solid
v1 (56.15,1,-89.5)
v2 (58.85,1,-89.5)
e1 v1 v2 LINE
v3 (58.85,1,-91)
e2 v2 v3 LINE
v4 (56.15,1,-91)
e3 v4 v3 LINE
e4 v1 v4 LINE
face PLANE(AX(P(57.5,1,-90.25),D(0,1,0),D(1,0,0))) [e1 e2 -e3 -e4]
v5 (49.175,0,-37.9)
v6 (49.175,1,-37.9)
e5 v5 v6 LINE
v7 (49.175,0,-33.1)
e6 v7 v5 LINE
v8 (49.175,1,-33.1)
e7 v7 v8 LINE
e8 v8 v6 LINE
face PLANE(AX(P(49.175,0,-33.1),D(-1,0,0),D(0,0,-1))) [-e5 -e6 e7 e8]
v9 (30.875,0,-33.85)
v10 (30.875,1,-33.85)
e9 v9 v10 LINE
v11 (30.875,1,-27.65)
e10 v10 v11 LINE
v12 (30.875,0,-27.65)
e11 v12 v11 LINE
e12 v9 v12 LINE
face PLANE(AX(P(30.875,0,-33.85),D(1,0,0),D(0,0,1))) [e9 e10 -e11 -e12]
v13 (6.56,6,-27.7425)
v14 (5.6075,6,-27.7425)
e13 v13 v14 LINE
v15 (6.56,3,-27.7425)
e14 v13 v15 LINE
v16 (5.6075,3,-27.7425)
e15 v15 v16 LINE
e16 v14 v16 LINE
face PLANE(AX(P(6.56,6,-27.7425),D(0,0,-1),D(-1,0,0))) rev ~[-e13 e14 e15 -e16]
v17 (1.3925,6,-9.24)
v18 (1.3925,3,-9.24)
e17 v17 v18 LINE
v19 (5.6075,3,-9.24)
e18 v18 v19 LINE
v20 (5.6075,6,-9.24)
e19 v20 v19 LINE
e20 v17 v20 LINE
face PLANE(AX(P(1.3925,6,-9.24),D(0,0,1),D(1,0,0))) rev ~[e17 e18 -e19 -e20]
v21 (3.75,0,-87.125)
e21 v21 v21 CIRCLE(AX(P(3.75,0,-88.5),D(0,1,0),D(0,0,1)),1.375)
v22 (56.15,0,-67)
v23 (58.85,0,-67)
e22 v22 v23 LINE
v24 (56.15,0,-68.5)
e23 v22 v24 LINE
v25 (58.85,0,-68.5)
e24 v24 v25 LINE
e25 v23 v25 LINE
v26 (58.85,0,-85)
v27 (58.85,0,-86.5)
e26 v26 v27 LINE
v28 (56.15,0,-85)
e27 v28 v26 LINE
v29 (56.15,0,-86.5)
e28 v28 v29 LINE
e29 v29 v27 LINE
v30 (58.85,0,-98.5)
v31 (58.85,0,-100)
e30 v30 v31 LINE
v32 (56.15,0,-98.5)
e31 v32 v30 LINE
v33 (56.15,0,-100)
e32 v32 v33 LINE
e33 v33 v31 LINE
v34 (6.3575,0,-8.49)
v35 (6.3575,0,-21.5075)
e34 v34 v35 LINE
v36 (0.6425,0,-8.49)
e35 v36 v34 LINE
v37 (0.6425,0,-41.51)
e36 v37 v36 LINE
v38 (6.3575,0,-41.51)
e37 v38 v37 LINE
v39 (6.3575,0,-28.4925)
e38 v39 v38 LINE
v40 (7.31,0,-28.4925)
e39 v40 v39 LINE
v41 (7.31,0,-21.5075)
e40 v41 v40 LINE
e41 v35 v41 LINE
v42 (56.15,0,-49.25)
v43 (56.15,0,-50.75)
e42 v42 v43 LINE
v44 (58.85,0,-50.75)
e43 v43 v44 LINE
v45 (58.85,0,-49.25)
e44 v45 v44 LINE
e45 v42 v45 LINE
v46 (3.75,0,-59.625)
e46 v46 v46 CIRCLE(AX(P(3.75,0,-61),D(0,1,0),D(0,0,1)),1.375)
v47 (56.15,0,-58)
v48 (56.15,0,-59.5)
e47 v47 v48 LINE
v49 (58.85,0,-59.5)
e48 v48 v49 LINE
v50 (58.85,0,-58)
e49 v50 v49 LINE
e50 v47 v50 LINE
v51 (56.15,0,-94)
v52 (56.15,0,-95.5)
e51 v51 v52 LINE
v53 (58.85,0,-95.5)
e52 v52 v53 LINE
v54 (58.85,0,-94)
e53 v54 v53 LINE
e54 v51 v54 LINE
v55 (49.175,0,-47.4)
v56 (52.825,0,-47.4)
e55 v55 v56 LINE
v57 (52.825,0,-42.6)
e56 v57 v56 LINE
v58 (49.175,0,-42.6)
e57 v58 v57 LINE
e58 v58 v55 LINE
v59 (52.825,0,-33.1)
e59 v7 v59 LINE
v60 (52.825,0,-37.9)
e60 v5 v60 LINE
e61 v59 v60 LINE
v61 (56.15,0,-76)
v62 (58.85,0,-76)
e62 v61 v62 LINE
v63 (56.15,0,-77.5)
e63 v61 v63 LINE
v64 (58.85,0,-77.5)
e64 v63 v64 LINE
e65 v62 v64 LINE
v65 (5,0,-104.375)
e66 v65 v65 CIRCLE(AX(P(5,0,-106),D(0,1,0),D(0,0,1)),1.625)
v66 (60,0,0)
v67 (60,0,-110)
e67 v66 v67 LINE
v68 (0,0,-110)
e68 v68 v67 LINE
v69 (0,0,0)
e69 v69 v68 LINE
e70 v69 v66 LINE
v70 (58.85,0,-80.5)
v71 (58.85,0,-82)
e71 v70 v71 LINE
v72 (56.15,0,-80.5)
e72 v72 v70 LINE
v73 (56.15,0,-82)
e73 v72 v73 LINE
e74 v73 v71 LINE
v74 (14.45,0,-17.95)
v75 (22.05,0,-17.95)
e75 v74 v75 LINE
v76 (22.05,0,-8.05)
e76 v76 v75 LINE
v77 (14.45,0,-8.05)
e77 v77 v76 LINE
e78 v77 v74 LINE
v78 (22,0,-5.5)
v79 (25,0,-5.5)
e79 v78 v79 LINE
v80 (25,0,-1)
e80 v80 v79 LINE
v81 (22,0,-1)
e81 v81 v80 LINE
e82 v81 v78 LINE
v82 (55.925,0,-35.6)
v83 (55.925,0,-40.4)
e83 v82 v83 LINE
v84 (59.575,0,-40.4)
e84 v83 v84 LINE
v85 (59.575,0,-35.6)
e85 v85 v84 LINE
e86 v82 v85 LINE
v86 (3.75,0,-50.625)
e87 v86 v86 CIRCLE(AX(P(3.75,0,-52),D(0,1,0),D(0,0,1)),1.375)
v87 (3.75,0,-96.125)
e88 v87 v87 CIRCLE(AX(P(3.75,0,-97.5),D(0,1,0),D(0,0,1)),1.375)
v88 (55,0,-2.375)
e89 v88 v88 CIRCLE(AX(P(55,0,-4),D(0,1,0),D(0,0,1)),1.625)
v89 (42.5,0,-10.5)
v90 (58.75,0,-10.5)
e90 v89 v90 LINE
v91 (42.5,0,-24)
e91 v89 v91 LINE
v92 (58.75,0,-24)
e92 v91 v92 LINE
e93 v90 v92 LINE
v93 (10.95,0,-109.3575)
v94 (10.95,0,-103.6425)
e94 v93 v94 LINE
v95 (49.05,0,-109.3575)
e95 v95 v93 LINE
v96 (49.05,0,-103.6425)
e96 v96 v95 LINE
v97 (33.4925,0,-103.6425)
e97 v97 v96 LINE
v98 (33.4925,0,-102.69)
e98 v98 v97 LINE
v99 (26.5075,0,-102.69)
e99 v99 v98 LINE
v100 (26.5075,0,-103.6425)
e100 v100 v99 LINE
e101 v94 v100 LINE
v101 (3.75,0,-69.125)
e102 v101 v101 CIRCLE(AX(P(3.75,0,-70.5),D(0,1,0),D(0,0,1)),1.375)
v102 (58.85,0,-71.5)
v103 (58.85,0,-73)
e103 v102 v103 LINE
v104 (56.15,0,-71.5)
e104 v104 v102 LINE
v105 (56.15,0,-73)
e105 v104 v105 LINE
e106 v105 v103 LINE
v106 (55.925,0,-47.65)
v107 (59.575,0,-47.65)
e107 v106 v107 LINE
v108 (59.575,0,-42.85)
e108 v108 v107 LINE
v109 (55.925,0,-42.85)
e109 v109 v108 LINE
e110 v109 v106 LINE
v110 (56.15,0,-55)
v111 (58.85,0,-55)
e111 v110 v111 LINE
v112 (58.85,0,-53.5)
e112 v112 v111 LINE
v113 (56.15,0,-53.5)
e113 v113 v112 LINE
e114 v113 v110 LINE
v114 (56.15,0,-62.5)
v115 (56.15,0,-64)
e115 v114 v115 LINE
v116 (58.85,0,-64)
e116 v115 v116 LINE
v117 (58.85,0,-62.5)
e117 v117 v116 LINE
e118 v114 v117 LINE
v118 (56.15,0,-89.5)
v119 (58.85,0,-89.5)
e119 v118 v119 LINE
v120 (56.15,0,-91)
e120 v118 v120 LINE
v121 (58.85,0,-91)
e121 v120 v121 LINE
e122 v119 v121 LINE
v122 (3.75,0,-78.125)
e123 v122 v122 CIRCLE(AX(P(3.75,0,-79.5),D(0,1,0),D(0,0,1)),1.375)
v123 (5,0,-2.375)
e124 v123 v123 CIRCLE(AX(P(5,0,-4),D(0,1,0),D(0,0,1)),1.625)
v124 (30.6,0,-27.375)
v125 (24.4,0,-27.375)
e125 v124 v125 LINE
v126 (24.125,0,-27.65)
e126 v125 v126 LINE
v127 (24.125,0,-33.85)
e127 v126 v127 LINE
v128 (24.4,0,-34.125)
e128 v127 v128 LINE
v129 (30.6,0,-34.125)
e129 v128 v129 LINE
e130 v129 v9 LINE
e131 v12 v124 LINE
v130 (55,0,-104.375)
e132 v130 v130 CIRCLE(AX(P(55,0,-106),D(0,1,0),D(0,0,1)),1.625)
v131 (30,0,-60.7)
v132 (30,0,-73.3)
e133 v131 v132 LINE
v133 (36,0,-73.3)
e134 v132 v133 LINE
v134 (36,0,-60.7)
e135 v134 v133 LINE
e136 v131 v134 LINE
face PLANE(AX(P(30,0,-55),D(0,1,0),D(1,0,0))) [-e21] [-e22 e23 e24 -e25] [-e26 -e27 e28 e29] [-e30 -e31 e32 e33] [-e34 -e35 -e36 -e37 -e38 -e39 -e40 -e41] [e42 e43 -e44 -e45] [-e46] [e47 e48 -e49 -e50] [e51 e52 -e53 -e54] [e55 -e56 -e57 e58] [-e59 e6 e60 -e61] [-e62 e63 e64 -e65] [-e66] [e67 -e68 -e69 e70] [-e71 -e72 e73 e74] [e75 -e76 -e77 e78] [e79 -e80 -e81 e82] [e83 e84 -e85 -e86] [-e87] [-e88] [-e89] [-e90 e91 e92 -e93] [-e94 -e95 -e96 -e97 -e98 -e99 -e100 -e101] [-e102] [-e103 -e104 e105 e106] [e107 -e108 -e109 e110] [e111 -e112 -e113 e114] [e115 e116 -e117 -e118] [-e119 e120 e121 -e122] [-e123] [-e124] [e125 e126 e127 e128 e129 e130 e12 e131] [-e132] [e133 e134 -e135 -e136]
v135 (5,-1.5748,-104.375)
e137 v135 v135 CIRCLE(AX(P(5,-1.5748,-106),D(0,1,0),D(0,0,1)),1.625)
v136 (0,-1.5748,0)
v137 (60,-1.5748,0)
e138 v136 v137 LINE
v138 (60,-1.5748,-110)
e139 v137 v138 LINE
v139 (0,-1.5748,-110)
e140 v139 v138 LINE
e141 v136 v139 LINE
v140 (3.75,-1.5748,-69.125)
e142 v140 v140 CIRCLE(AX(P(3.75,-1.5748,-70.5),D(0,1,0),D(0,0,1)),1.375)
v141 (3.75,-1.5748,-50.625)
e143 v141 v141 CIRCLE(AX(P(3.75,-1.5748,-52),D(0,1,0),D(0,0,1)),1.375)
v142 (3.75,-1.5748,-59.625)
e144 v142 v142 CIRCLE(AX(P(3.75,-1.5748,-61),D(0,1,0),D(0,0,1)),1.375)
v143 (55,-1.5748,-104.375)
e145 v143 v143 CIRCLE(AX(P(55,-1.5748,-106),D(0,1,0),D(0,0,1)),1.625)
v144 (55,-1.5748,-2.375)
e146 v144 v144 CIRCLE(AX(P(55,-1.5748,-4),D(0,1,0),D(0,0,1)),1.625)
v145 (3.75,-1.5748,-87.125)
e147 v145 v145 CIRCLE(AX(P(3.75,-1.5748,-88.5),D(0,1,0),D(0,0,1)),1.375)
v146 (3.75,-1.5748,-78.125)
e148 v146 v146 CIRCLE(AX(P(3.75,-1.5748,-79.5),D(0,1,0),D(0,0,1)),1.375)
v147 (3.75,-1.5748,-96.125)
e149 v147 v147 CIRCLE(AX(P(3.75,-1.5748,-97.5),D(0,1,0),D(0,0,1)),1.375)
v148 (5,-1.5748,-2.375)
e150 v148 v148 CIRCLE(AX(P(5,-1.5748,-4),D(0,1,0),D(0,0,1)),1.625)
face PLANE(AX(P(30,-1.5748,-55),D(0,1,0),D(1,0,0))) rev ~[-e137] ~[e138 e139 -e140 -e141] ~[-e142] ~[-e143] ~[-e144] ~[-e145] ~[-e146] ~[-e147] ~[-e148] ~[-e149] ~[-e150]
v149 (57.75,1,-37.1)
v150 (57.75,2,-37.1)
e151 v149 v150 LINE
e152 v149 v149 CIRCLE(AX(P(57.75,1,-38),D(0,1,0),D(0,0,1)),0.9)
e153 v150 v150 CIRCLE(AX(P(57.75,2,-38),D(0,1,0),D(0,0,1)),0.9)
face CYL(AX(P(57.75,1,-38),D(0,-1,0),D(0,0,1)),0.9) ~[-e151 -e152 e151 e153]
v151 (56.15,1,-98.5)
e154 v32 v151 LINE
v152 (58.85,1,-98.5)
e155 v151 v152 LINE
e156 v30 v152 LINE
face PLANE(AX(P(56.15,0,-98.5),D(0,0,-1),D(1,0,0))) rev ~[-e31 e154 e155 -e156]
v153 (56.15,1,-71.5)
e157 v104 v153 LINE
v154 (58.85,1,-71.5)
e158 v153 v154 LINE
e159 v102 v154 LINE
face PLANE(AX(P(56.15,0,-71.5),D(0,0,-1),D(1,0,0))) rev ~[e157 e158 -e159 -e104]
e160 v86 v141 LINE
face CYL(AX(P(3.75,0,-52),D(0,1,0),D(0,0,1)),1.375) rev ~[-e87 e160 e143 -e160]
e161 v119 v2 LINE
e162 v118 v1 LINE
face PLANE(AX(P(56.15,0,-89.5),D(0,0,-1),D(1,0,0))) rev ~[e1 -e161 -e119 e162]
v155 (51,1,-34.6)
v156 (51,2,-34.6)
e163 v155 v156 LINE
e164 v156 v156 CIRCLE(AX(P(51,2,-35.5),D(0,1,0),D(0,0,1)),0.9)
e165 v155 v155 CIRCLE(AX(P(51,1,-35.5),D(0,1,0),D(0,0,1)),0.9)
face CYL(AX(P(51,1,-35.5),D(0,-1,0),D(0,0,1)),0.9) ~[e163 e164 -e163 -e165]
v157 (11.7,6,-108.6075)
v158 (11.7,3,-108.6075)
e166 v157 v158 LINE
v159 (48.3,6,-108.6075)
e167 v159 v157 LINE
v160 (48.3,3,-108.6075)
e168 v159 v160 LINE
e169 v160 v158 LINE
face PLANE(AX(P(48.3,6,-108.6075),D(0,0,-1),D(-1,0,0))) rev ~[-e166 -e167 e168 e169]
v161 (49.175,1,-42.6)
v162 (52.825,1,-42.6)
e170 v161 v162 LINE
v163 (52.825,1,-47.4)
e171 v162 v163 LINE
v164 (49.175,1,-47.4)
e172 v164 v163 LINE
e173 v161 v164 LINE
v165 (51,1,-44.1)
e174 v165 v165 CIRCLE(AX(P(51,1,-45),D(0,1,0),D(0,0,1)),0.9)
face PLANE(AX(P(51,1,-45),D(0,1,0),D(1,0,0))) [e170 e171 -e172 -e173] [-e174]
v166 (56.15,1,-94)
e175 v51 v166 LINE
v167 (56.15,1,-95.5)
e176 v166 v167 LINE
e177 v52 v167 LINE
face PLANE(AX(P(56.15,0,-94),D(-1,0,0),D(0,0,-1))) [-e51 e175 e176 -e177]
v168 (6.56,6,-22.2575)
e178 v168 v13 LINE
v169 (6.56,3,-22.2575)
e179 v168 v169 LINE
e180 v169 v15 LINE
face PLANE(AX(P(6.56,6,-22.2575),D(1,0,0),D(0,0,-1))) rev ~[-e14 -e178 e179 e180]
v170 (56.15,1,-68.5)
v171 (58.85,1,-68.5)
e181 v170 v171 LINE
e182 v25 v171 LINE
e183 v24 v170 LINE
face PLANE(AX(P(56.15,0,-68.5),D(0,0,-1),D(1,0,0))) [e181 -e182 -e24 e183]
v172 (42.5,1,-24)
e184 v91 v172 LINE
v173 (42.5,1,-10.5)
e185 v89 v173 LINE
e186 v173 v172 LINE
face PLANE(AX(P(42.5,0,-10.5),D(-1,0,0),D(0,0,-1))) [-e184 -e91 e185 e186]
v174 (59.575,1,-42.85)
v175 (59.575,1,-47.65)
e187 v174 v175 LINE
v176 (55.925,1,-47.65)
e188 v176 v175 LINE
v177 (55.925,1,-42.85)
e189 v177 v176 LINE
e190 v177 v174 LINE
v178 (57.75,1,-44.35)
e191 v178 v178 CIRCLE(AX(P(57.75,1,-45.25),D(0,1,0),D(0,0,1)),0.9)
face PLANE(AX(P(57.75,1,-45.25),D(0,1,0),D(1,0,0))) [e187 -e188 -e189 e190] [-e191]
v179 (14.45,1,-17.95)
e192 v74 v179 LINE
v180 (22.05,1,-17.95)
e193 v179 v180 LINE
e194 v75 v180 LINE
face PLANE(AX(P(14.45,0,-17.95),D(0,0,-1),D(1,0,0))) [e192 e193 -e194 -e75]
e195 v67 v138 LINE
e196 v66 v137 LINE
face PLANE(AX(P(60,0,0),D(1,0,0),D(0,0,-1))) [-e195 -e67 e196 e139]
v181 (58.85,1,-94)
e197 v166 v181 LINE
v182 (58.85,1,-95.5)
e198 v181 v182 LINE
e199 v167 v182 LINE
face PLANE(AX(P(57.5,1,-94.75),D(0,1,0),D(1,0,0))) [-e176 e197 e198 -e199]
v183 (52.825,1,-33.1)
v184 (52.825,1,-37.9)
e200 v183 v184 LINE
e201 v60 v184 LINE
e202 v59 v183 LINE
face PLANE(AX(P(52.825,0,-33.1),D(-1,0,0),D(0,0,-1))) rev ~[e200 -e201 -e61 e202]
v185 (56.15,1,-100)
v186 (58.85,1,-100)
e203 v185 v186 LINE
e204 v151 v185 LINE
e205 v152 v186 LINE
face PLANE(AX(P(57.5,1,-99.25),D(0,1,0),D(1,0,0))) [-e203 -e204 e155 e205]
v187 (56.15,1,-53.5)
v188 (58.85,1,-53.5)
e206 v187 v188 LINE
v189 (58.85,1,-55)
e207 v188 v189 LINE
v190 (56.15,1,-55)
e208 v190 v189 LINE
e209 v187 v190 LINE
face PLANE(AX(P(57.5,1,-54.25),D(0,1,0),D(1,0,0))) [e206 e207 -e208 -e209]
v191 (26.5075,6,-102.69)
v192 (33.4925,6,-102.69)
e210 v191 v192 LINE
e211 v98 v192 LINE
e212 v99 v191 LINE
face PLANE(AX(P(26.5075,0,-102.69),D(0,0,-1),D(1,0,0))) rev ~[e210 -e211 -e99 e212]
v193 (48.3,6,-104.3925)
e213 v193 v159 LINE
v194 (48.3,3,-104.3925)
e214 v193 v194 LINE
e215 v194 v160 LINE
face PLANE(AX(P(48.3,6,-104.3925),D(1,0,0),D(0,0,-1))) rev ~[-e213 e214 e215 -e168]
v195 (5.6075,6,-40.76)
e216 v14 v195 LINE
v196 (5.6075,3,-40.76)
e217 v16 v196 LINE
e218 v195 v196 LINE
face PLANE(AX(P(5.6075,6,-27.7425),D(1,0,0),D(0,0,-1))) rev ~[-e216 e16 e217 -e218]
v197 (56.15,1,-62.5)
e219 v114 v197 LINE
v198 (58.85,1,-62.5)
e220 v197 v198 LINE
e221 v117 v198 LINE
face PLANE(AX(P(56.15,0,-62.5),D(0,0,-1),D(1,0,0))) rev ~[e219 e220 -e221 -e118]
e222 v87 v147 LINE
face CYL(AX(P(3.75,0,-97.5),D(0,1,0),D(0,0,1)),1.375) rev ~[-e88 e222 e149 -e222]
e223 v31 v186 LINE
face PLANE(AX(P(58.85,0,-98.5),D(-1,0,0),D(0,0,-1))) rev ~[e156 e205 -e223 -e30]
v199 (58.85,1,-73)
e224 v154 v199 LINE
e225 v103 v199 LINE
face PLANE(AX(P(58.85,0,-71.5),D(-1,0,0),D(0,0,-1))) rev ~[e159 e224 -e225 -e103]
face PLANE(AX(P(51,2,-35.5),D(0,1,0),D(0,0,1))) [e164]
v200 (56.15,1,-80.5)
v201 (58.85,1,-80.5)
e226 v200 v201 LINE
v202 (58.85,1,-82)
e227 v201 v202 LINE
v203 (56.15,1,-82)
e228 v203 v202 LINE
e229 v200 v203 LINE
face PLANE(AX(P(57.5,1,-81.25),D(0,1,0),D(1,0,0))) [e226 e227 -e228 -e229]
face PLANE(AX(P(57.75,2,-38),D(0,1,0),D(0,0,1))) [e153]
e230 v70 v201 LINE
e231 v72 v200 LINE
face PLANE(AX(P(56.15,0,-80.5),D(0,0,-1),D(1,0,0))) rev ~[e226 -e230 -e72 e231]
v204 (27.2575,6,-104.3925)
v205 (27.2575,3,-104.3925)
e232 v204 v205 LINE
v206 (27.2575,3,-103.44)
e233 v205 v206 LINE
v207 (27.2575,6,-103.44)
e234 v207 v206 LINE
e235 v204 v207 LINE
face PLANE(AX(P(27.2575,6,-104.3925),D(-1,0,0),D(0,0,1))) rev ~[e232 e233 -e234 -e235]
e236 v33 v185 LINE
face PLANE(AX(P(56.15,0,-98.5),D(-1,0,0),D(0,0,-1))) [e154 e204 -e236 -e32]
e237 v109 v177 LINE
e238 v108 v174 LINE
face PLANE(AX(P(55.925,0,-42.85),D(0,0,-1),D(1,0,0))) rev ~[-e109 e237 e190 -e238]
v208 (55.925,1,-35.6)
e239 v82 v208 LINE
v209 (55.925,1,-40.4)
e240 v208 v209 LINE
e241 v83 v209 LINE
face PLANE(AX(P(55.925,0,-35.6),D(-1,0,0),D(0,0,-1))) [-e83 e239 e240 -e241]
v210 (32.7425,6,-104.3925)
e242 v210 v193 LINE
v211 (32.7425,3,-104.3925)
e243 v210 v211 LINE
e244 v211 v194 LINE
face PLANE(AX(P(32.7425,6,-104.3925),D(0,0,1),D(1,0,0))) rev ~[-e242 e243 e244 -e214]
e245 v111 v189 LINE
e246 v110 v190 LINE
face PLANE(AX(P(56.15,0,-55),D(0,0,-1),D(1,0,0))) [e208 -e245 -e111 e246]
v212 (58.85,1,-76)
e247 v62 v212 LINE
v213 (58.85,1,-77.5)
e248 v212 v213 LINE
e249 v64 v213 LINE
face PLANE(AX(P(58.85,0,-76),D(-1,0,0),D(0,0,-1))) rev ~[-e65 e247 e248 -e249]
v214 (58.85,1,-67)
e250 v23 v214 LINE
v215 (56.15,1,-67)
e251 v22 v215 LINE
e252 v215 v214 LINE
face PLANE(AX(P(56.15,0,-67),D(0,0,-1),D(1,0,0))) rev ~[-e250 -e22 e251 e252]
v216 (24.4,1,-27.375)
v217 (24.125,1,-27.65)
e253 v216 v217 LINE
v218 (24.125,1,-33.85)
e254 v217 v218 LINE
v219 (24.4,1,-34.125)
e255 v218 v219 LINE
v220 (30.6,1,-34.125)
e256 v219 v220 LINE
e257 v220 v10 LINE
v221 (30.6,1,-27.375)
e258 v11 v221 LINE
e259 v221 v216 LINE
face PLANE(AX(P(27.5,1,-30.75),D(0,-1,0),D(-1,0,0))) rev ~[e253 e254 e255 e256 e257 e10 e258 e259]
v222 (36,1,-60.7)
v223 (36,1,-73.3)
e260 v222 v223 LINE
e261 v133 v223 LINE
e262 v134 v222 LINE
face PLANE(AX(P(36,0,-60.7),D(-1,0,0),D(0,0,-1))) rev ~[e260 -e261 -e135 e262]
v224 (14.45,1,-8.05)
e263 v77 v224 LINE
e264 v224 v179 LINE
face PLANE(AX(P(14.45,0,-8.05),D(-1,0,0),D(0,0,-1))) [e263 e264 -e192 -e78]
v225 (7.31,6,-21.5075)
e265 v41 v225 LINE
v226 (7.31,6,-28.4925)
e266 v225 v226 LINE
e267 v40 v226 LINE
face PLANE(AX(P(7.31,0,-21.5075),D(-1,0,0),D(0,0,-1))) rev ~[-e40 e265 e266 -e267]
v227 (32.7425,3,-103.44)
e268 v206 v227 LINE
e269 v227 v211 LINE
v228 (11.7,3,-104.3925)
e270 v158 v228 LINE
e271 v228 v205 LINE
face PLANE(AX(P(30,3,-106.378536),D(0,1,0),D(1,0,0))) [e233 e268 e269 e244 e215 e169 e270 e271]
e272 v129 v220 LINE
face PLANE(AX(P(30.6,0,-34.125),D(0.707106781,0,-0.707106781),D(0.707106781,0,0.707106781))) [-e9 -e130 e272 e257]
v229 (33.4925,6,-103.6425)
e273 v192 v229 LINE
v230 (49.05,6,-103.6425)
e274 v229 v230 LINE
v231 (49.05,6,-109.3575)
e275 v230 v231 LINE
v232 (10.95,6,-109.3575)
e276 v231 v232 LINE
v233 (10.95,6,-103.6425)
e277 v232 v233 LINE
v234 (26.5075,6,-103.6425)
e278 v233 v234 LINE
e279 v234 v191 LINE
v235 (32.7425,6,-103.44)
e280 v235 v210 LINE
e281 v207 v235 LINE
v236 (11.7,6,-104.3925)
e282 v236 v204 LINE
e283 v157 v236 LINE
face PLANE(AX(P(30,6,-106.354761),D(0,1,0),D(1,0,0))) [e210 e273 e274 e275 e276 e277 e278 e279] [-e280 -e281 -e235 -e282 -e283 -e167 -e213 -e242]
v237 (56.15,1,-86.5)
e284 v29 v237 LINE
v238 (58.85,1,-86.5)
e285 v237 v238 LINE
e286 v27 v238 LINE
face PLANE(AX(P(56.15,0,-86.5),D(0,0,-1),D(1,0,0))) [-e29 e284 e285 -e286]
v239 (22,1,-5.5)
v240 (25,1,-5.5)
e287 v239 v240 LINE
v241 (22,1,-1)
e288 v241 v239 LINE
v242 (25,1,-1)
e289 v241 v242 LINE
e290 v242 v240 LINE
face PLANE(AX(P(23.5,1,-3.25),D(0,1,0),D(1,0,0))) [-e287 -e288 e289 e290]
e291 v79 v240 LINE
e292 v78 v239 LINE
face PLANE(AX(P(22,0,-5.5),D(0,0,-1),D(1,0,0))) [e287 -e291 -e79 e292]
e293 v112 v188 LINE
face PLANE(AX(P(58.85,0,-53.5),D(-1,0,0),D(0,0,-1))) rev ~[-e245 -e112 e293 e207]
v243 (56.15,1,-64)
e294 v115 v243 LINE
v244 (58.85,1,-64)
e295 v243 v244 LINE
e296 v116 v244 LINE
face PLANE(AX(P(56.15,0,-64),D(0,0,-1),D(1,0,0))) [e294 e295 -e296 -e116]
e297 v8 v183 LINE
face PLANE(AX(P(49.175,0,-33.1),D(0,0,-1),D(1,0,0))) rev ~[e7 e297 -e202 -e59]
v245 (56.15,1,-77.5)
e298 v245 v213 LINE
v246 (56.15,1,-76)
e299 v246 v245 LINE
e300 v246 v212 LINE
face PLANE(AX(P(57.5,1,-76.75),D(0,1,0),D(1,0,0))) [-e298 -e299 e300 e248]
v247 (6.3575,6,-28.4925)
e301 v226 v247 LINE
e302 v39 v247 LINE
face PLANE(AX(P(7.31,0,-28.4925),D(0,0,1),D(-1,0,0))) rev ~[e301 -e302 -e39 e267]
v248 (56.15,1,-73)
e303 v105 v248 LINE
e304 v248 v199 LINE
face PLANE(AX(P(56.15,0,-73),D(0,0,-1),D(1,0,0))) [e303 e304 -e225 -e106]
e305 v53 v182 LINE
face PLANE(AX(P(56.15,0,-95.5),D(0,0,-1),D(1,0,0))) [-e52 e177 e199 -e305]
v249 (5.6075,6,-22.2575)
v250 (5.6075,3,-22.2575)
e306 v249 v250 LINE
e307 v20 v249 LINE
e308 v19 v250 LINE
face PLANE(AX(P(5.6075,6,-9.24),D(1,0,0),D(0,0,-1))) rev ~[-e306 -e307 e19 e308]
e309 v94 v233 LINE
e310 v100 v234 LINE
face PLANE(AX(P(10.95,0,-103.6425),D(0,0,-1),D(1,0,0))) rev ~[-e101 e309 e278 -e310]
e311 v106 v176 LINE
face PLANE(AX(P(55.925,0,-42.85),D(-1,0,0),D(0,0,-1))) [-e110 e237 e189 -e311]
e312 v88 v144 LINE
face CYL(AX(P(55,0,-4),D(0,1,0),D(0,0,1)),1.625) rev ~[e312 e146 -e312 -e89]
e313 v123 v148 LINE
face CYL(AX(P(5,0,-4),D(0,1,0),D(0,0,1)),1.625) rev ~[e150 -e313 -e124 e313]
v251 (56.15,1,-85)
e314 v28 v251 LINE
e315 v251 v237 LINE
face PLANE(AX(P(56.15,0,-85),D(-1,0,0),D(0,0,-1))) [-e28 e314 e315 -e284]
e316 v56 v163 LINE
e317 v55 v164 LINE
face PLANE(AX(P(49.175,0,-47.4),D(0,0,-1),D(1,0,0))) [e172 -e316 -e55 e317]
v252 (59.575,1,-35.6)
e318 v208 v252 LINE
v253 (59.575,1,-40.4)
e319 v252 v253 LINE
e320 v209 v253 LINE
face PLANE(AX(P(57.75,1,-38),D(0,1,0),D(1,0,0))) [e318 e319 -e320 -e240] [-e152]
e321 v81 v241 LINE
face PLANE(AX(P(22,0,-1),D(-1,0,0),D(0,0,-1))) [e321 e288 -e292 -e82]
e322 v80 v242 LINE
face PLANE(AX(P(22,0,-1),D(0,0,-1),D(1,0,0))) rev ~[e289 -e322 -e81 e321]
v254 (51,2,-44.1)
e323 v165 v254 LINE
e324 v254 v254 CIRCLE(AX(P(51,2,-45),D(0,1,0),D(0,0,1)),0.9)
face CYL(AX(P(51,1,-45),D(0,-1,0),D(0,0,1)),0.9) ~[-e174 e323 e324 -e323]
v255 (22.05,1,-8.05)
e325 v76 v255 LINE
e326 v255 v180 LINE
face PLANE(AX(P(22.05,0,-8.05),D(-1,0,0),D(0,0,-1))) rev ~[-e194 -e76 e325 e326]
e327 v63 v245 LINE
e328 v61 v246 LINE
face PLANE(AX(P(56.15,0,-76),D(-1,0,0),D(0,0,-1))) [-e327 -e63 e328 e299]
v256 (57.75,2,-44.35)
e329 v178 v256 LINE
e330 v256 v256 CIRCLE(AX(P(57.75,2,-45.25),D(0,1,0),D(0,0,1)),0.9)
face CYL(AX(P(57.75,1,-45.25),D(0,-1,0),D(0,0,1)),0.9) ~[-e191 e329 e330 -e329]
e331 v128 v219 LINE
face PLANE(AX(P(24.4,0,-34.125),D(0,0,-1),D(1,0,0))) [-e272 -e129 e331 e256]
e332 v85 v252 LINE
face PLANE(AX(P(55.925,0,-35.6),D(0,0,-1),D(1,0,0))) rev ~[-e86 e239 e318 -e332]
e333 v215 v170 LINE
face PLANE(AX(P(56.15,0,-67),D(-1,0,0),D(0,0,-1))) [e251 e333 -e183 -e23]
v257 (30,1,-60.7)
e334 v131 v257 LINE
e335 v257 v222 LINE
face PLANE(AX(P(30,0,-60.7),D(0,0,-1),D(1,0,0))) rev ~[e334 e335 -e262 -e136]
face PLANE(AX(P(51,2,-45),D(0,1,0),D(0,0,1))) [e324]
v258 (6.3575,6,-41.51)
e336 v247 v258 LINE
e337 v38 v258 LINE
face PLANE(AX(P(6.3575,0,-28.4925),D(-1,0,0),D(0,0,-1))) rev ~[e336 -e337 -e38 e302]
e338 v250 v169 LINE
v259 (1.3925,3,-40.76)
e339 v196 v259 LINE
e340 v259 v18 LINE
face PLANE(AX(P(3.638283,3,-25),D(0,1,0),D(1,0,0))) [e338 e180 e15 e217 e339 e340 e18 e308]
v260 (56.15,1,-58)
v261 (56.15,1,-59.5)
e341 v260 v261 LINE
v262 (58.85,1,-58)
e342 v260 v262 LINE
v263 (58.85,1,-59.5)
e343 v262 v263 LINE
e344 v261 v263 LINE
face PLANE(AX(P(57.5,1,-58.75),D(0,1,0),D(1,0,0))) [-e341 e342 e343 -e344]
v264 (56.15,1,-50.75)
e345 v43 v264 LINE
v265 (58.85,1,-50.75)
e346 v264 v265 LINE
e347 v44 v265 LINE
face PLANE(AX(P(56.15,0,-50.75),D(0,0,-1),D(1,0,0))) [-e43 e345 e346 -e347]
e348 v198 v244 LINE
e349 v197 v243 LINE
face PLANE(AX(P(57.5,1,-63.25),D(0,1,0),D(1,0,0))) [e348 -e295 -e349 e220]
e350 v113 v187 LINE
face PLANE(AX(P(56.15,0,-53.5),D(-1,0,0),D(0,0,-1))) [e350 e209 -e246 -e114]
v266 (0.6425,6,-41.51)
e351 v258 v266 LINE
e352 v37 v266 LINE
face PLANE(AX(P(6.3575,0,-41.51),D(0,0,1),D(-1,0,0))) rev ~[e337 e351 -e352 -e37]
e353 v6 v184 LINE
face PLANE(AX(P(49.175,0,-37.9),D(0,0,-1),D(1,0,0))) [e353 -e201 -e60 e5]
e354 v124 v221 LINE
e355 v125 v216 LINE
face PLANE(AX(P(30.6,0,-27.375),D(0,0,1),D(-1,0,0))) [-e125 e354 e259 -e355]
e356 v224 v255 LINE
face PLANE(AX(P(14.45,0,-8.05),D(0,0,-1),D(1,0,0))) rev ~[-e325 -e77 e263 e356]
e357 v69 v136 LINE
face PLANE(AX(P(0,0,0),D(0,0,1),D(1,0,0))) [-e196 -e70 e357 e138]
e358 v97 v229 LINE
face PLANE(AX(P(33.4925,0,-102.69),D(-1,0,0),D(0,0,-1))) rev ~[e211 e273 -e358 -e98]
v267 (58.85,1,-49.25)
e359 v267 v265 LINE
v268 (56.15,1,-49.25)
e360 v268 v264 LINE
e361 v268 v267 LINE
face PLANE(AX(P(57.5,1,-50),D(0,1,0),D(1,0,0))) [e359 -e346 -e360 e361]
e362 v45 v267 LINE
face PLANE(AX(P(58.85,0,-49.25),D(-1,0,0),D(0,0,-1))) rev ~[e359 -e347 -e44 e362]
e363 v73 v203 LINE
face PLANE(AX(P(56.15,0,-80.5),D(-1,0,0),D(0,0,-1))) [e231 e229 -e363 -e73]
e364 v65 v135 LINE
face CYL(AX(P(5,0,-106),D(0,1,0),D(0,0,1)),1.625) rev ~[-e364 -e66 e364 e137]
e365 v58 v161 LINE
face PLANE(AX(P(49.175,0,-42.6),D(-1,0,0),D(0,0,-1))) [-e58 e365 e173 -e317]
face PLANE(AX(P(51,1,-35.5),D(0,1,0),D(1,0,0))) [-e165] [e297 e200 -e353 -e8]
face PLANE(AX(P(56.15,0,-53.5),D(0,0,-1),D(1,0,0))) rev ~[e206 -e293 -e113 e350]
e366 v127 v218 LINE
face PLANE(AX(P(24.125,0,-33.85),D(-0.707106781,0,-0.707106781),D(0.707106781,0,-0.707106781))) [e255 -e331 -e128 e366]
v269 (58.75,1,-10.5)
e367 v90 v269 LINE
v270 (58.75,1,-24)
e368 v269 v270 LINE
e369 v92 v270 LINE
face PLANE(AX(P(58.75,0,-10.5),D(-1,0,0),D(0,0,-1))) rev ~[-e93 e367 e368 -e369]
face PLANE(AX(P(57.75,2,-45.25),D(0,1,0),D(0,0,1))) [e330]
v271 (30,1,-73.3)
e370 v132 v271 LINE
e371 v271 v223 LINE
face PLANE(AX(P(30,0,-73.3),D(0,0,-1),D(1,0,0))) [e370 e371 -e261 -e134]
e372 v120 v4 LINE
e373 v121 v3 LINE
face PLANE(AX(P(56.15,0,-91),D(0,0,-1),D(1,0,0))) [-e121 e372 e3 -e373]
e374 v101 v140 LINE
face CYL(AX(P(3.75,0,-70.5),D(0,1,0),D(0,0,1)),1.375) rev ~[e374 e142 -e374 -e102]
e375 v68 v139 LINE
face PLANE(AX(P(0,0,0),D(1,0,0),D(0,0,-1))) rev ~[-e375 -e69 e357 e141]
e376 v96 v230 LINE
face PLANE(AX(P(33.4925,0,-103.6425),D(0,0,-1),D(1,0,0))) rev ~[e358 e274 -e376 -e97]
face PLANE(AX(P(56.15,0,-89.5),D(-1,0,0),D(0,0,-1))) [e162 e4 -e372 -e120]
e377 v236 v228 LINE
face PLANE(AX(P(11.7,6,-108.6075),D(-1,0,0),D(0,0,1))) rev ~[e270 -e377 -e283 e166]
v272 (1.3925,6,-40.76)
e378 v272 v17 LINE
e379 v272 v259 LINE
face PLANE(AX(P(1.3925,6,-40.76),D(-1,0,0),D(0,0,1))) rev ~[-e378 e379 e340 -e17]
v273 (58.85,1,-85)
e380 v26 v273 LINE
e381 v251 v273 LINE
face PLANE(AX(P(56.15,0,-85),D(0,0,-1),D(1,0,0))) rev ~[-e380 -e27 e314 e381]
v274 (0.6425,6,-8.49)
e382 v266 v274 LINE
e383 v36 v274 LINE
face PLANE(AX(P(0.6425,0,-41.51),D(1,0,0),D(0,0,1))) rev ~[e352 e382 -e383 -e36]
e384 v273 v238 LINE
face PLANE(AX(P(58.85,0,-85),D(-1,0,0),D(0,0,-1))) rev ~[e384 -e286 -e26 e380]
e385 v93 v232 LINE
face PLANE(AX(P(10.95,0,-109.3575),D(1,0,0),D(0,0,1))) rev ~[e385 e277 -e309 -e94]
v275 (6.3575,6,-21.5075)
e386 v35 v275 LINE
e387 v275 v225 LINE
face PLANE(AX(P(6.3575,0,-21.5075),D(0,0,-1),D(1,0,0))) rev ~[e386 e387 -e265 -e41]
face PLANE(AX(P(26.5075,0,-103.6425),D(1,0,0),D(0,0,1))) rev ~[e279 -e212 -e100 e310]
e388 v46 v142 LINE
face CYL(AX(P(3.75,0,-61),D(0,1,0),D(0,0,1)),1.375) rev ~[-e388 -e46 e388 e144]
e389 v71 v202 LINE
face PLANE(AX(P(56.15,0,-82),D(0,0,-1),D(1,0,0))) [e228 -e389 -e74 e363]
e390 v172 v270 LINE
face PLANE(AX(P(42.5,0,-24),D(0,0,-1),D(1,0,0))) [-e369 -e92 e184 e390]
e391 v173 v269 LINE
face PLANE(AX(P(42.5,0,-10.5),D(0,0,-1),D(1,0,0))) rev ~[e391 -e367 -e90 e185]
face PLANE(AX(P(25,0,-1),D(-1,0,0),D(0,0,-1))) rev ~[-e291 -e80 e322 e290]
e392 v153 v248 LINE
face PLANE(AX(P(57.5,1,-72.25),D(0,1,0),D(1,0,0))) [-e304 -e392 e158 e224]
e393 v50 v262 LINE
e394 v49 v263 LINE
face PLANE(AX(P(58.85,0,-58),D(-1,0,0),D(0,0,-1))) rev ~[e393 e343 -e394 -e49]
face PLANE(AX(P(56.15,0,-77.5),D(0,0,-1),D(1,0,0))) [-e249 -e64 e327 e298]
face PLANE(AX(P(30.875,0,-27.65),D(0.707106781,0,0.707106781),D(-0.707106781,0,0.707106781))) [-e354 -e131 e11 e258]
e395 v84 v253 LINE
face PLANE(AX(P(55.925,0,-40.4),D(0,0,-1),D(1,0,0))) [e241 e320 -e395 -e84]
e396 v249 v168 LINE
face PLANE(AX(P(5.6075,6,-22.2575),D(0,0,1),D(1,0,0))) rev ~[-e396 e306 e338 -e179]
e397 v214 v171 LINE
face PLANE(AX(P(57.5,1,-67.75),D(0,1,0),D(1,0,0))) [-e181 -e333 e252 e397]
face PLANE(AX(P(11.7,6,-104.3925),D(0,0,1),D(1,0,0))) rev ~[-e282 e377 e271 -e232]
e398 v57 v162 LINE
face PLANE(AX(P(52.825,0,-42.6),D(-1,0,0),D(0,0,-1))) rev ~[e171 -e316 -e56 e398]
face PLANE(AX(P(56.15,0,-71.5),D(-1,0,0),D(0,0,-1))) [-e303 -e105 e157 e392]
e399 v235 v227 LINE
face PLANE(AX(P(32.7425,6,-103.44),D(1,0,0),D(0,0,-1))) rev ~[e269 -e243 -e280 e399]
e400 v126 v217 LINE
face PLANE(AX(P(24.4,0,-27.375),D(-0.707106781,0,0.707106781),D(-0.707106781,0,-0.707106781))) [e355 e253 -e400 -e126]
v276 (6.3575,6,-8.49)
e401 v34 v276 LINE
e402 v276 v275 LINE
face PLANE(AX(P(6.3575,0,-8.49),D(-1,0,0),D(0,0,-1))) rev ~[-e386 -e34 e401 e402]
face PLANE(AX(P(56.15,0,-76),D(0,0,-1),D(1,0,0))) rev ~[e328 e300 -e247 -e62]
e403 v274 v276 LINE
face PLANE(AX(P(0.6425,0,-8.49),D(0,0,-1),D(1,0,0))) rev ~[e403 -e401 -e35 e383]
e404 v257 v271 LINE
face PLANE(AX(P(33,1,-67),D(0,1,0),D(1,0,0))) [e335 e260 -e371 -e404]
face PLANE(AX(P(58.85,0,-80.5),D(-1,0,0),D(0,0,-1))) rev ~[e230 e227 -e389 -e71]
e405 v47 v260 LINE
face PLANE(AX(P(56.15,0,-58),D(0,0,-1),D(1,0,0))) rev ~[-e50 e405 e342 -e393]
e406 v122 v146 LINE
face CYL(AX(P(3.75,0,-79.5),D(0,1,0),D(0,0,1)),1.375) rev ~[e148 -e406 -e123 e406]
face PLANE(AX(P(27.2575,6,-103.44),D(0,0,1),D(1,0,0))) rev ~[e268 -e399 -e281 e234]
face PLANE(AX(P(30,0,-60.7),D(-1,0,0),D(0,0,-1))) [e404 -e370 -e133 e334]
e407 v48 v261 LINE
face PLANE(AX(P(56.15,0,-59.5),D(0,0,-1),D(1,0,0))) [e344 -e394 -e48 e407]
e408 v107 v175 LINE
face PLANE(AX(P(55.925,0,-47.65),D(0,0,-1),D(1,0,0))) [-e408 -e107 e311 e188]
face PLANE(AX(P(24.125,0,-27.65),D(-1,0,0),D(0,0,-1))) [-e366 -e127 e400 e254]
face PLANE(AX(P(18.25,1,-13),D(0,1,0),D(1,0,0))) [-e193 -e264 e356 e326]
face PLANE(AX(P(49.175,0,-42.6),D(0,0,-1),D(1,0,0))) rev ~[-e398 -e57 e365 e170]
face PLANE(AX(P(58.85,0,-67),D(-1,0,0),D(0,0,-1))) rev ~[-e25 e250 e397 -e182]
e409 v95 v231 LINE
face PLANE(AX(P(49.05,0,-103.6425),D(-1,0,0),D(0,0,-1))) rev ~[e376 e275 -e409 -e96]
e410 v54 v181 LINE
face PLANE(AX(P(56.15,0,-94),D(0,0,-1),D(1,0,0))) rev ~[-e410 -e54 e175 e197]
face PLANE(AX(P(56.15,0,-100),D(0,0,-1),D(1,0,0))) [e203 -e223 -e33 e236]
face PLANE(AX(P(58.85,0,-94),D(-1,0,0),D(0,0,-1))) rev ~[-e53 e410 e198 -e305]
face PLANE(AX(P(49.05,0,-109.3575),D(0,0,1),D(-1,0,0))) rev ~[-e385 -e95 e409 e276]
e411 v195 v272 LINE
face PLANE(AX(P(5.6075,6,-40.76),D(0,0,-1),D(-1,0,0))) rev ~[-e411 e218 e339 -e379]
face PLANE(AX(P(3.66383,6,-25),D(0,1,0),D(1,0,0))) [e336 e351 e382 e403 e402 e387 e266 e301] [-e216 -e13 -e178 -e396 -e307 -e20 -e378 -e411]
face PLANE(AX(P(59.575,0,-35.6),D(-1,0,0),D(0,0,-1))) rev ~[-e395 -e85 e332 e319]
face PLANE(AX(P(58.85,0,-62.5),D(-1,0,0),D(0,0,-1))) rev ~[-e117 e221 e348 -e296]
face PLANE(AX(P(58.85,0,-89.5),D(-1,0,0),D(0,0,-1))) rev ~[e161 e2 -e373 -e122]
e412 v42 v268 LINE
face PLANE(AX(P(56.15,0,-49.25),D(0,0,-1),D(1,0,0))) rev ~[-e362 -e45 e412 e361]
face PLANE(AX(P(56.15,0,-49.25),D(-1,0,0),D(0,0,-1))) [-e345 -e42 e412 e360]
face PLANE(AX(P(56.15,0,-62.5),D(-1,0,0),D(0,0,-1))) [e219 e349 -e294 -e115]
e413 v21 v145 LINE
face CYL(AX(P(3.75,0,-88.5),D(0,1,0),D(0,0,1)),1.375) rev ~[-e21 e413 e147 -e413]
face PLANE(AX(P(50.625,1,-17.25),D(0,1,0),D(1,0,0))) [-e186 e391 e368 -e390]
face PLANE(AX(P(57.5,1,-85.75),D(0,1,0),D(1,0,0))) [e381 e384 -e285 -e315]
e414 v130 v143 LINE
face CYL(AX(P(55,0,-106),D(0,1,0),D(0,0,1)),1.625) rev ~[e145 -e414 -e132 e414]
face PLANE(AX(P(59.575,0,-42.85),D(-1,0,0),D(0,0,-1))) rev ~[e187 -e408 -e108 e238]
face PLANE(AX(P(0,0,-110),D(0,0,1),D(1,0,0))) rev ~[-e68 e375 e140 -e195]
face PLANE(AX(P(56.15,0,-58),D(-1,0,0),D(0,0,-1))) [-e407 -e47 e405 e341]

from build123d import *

# Parameters (mm, degrees)
SKETCH2_W           = 60
SKETCH2_H           = 110
BOSS_EXTRUDE1_DEPTH = 1.5748
BOSS_EXTRUDE2_DEPTH = 6
BOSS_EXTRUDE3_DEPTH = 6
SKETCH6_W           = 6
SKETCH6_H           = 12.6
SKETCH6_W_2         = 7.6
SKETCH6_H_2         = 9.9
SKETCH6_W_3         = 3
SKETCH6_H_3         = 4.5
SKETCH6_W_4         = 16.25
SKETCH6_H_4         = 13.5
SKETCH6_W_5         = 3.65
SKETCH6_H_5         = 4.8
BOSS_EXTRUDE4_DEPTH = 1
SKETCH7_R           = 1.375
SKETCH7_R_2         = 1.625
CUT_EXTRUDE1_DEPTH  = 126.443214245
SKETCH8_R           = 0.9
BOSS_EXTRUDE5_DEPTH = 1
SKETCH9_W           = 2.7
SKETCH9_H           = 1.5
BOSS_EXTRUDE6_DEPTH = 1
CUT_EXTRUDE2_DEPTH  = 3


with BuildPart() as part:
    # Sketch2 → Boss-Extrude1 (new body)
    with BuildSketch(Plane(origin=(0, 0, 0), x_dir=(1, 0, 0), z_dir=(0, 1, 0))):
        with Locations((30, 55)):
            Rectangle(SKETCH2_W, SKETCH2_H)
    extrude(amount=-BOSS_EXTRUDE1_DEPTH)

    # Sketch3 → Boss-Extrude2 (add)
    with BuildSketch(Plane(origin=(0, 0, 0), x_dir=(1, 0, 0), z_dir=(0, 1, 0))):
        Polygon((0.6425, 8.49), (6.3575, 8.49), (6.3575, 21.5075), (7.31, 21.5075), (7.31, 28.4925), (6.3575, 28.4925), (6.3575, 41.51), (0.6425, 41.51), align=None)
    extrude(amount=BOSS_EXTRUDE2_DEPTH)

    # Sketch5 → Boss-Extrude3 (add)
    with BuildSketch(Plane(origin=(0, 0, 0), x_dir=(1, 0, 0), z_dir=(0, 1, 0))):
        Polygon((49.05, 109.3575), (10.95, 109.3575), (10.95, 103.6425), (26.5075, 103.6425), (26.5075, 102.69), (33.4925, 102.69), (33.4925, 103.6425), (49.05, 103.6425), align=None)
    extrude(amount=BOSS_EXTRUDE3_DEPTH)

    # Sketch6 → Boss-Extrude4 (add)
    with BuildSketch(Plane(origin=(0, 0, 0), x_dir=(1, 0, 0), z_dir=(0, 1, 0))):
        with Locations((33, 67)):
            Rectangle(SKETCH6_W, SKETCH6_H)
        Polygon((30.875, 33.85), (30.875, 27.65), (30.6, 27.375), (24.4, 27.375), (24.125, 27.65), (24.125, 33.85), (24.4, 34.125), (30.6, 34.125), align=None)
        with Locations((18.25, 13)):
            Rectangle(SKETCH6_W_2, SKETCH6_H_2)
        with Locations((23.5, 3.25)):
            Rectangle(SKETCH6_W_3, SKETCH6_H_3)
        with Locations((50.625, 17.25)):
            Rectangle(SKETCH6_W_4, SKETCH6_H_4)
        with Locations((57.75, 38)):
            Rectangle(SKETCH6_W_5, SKETCH6_H_5)
        with Locations((57.75, 45.25)):
            Rectangle(SKETCH6_W_5, SKETCH6_H_5)
        with Locations((51, 45)):
            Rectangle(SKETCH6_W_5, SKETCH6_H_5)
        with Locations((51, 35.5)):
            Rectangle(SKETCH6_W_5, SKETCH6_H_5)
    extrude(amount=BOSS_EXTRUDE4_DEPTH)

    # Sketch7 → Cut-Extrude1 (cut, through all)
    with BuildSketch(Plane(origin=(0, 0, 0), x_dir=(1, 0, 0), z_dir=(0, 1, 0))):
        with Locations(Location((3.75, 52, 0), (0, 0, 270))):
            Circle(SKETCH7_R)
        with Locations(Location((3.75, 70.5, 0), (0, 0, 270))):
            Circle(SKETCH7_R)
        with Locations(Location((3.75, 79.5, 0), (0, 0, 270))):
            Circle(SKETCH7_R)
        with Locations(Location((3.75, 88.5, 0), (0, 0, 270))):
            Circle(SKETCH7_R)
        with Locations(Location((3.75, 97.5, 0), (0, 0, 270))):
            Circle(SKETCH7_R)
        with Locations(Location((3.75, 61, 0), (0, 0, 270))):
            Circle(SKETCH7_R)
        with Locations(Location((5, 106, 0), (0, 0, 270))):
            Circle(SKETCH7_R_2)
        with Locations(Location((55, 106, 0), (0, 0, 270))):
            Circle(SKETCH7_R_2)
        with Locations(Location((55, 4, 0), (0, 0, 270))):
            Circle(SKETCH7_R_2)
        with Locations(Location((5, 4, 0), (0, 0, 270))):
            Circle(SKETCH7_R_2)
    extrude(amount=-CUT_EXTRUDE1_DEPTH, mode=Mode.SUBTRACT)

    # Sketch8 → Boss-Extrude5 (add)
    with BuildSketch(Plane(origin=(0, 1, 0), x_dir=(1, 0, 0), z_dir=(0, 1, 0))):
        with Locations(Location((57.75, 38, 0), (0, 0, 270))):
            Circle(SKETCH8_R)
        with Locations(Location((57.75, 45.25, 0), (0, 0, 270))):
            Circle(SKETCH8_R)
        with Locations(Location((51, 45, 0), (0, 0, 270))):
            Circle(SKETCH8_R)
        with Locations(Location((51, 35.5, 0), (0, 0, 270))):
            Circle(SKETCH8_R)
    extrude(amount=BOSS_EXTRUDE5_DEPTH)

    # Sketch9 → Boss-Extrude6 (add)
    with BuildSketch(Plane(origin=(0, 0, 0), x_dir=(1, 0, 0), z_dir=(0, 1, 0))):
        with Locations((57.5, 50)):
            Rectangle(SKETCH9_W, SKETCH9_H)
        with Locations((57.5, 54.25)):
            Rectangle(SKETCH9_W, SKETCH9_H)
        with Locations((57.5, 58.75)):
            Rectangle(SKETCH9_W, SKETCH9_H)
        with Locations((57.5, 63.25)):
            Rectangle(SKETCH9_W, SKETCH9_H)
        with Locations((57.5, 67.75)):
            Rectangle(SKETCH9_W, SKETCH9_H)
        with Locations((57.5, 72.25)):
            Rectangle(SKETCH9_W, SKETCH9_H)
        with Locations((57.5, 76.75)):
            Rectangle(SKETCH9_W, SKETCH9_H)
        with Locations((57.5, 81.25)):
            Rectangle(SKETCH9_W, SKETCH9_H)
        with Locations((57.5, 85.75)):
            Rectangle(SKETCH9_W, SKETCH9_H)
        with Locations((57.5, 90.25)):
            Rectangle(SKETCH9_W, SKETCH9_H)
        with Locations((57.5, 94.75)):
            Rectangle(SKETCH9_W, SKETCH9_H)
        with Locations((57.5, 99.25)):
            Rectangle(SKETCH9_W, SKETCH9_H)
    extrude(amount=BOSS_EXTRUDE6_DEPTH)

    # Sketch10 → Cut-Extrude2 (cut)
    with BuildSketch(Plane(origin=(0, 6, 0), x_dir=(1, 0, 0), z_dir=(0, 1, 0))):
        Polygon((1.3925, 40.76), (1.3925, 9.24), (5.6075, 9.24), (5.6075, 22.2575), (6.56, 22.2575), (6.56, 27.7425), (5.6075, 27.7425), (5.6075, 40.76), align=None)
        Polygon((32.7425, 104.3925), (48.3, 104.3925), (48.3, 108.6075), (11.7, 108.6075), (11.7, 104.3925), (27.2575, 104.3925), (27.2575, 103.44), (32.7425, 103.44), align=None)
    extrude(amount=-CUT_EXTRUDE2_DEPTH, mode=Mode.SUBTRACT)


solid = part.part
